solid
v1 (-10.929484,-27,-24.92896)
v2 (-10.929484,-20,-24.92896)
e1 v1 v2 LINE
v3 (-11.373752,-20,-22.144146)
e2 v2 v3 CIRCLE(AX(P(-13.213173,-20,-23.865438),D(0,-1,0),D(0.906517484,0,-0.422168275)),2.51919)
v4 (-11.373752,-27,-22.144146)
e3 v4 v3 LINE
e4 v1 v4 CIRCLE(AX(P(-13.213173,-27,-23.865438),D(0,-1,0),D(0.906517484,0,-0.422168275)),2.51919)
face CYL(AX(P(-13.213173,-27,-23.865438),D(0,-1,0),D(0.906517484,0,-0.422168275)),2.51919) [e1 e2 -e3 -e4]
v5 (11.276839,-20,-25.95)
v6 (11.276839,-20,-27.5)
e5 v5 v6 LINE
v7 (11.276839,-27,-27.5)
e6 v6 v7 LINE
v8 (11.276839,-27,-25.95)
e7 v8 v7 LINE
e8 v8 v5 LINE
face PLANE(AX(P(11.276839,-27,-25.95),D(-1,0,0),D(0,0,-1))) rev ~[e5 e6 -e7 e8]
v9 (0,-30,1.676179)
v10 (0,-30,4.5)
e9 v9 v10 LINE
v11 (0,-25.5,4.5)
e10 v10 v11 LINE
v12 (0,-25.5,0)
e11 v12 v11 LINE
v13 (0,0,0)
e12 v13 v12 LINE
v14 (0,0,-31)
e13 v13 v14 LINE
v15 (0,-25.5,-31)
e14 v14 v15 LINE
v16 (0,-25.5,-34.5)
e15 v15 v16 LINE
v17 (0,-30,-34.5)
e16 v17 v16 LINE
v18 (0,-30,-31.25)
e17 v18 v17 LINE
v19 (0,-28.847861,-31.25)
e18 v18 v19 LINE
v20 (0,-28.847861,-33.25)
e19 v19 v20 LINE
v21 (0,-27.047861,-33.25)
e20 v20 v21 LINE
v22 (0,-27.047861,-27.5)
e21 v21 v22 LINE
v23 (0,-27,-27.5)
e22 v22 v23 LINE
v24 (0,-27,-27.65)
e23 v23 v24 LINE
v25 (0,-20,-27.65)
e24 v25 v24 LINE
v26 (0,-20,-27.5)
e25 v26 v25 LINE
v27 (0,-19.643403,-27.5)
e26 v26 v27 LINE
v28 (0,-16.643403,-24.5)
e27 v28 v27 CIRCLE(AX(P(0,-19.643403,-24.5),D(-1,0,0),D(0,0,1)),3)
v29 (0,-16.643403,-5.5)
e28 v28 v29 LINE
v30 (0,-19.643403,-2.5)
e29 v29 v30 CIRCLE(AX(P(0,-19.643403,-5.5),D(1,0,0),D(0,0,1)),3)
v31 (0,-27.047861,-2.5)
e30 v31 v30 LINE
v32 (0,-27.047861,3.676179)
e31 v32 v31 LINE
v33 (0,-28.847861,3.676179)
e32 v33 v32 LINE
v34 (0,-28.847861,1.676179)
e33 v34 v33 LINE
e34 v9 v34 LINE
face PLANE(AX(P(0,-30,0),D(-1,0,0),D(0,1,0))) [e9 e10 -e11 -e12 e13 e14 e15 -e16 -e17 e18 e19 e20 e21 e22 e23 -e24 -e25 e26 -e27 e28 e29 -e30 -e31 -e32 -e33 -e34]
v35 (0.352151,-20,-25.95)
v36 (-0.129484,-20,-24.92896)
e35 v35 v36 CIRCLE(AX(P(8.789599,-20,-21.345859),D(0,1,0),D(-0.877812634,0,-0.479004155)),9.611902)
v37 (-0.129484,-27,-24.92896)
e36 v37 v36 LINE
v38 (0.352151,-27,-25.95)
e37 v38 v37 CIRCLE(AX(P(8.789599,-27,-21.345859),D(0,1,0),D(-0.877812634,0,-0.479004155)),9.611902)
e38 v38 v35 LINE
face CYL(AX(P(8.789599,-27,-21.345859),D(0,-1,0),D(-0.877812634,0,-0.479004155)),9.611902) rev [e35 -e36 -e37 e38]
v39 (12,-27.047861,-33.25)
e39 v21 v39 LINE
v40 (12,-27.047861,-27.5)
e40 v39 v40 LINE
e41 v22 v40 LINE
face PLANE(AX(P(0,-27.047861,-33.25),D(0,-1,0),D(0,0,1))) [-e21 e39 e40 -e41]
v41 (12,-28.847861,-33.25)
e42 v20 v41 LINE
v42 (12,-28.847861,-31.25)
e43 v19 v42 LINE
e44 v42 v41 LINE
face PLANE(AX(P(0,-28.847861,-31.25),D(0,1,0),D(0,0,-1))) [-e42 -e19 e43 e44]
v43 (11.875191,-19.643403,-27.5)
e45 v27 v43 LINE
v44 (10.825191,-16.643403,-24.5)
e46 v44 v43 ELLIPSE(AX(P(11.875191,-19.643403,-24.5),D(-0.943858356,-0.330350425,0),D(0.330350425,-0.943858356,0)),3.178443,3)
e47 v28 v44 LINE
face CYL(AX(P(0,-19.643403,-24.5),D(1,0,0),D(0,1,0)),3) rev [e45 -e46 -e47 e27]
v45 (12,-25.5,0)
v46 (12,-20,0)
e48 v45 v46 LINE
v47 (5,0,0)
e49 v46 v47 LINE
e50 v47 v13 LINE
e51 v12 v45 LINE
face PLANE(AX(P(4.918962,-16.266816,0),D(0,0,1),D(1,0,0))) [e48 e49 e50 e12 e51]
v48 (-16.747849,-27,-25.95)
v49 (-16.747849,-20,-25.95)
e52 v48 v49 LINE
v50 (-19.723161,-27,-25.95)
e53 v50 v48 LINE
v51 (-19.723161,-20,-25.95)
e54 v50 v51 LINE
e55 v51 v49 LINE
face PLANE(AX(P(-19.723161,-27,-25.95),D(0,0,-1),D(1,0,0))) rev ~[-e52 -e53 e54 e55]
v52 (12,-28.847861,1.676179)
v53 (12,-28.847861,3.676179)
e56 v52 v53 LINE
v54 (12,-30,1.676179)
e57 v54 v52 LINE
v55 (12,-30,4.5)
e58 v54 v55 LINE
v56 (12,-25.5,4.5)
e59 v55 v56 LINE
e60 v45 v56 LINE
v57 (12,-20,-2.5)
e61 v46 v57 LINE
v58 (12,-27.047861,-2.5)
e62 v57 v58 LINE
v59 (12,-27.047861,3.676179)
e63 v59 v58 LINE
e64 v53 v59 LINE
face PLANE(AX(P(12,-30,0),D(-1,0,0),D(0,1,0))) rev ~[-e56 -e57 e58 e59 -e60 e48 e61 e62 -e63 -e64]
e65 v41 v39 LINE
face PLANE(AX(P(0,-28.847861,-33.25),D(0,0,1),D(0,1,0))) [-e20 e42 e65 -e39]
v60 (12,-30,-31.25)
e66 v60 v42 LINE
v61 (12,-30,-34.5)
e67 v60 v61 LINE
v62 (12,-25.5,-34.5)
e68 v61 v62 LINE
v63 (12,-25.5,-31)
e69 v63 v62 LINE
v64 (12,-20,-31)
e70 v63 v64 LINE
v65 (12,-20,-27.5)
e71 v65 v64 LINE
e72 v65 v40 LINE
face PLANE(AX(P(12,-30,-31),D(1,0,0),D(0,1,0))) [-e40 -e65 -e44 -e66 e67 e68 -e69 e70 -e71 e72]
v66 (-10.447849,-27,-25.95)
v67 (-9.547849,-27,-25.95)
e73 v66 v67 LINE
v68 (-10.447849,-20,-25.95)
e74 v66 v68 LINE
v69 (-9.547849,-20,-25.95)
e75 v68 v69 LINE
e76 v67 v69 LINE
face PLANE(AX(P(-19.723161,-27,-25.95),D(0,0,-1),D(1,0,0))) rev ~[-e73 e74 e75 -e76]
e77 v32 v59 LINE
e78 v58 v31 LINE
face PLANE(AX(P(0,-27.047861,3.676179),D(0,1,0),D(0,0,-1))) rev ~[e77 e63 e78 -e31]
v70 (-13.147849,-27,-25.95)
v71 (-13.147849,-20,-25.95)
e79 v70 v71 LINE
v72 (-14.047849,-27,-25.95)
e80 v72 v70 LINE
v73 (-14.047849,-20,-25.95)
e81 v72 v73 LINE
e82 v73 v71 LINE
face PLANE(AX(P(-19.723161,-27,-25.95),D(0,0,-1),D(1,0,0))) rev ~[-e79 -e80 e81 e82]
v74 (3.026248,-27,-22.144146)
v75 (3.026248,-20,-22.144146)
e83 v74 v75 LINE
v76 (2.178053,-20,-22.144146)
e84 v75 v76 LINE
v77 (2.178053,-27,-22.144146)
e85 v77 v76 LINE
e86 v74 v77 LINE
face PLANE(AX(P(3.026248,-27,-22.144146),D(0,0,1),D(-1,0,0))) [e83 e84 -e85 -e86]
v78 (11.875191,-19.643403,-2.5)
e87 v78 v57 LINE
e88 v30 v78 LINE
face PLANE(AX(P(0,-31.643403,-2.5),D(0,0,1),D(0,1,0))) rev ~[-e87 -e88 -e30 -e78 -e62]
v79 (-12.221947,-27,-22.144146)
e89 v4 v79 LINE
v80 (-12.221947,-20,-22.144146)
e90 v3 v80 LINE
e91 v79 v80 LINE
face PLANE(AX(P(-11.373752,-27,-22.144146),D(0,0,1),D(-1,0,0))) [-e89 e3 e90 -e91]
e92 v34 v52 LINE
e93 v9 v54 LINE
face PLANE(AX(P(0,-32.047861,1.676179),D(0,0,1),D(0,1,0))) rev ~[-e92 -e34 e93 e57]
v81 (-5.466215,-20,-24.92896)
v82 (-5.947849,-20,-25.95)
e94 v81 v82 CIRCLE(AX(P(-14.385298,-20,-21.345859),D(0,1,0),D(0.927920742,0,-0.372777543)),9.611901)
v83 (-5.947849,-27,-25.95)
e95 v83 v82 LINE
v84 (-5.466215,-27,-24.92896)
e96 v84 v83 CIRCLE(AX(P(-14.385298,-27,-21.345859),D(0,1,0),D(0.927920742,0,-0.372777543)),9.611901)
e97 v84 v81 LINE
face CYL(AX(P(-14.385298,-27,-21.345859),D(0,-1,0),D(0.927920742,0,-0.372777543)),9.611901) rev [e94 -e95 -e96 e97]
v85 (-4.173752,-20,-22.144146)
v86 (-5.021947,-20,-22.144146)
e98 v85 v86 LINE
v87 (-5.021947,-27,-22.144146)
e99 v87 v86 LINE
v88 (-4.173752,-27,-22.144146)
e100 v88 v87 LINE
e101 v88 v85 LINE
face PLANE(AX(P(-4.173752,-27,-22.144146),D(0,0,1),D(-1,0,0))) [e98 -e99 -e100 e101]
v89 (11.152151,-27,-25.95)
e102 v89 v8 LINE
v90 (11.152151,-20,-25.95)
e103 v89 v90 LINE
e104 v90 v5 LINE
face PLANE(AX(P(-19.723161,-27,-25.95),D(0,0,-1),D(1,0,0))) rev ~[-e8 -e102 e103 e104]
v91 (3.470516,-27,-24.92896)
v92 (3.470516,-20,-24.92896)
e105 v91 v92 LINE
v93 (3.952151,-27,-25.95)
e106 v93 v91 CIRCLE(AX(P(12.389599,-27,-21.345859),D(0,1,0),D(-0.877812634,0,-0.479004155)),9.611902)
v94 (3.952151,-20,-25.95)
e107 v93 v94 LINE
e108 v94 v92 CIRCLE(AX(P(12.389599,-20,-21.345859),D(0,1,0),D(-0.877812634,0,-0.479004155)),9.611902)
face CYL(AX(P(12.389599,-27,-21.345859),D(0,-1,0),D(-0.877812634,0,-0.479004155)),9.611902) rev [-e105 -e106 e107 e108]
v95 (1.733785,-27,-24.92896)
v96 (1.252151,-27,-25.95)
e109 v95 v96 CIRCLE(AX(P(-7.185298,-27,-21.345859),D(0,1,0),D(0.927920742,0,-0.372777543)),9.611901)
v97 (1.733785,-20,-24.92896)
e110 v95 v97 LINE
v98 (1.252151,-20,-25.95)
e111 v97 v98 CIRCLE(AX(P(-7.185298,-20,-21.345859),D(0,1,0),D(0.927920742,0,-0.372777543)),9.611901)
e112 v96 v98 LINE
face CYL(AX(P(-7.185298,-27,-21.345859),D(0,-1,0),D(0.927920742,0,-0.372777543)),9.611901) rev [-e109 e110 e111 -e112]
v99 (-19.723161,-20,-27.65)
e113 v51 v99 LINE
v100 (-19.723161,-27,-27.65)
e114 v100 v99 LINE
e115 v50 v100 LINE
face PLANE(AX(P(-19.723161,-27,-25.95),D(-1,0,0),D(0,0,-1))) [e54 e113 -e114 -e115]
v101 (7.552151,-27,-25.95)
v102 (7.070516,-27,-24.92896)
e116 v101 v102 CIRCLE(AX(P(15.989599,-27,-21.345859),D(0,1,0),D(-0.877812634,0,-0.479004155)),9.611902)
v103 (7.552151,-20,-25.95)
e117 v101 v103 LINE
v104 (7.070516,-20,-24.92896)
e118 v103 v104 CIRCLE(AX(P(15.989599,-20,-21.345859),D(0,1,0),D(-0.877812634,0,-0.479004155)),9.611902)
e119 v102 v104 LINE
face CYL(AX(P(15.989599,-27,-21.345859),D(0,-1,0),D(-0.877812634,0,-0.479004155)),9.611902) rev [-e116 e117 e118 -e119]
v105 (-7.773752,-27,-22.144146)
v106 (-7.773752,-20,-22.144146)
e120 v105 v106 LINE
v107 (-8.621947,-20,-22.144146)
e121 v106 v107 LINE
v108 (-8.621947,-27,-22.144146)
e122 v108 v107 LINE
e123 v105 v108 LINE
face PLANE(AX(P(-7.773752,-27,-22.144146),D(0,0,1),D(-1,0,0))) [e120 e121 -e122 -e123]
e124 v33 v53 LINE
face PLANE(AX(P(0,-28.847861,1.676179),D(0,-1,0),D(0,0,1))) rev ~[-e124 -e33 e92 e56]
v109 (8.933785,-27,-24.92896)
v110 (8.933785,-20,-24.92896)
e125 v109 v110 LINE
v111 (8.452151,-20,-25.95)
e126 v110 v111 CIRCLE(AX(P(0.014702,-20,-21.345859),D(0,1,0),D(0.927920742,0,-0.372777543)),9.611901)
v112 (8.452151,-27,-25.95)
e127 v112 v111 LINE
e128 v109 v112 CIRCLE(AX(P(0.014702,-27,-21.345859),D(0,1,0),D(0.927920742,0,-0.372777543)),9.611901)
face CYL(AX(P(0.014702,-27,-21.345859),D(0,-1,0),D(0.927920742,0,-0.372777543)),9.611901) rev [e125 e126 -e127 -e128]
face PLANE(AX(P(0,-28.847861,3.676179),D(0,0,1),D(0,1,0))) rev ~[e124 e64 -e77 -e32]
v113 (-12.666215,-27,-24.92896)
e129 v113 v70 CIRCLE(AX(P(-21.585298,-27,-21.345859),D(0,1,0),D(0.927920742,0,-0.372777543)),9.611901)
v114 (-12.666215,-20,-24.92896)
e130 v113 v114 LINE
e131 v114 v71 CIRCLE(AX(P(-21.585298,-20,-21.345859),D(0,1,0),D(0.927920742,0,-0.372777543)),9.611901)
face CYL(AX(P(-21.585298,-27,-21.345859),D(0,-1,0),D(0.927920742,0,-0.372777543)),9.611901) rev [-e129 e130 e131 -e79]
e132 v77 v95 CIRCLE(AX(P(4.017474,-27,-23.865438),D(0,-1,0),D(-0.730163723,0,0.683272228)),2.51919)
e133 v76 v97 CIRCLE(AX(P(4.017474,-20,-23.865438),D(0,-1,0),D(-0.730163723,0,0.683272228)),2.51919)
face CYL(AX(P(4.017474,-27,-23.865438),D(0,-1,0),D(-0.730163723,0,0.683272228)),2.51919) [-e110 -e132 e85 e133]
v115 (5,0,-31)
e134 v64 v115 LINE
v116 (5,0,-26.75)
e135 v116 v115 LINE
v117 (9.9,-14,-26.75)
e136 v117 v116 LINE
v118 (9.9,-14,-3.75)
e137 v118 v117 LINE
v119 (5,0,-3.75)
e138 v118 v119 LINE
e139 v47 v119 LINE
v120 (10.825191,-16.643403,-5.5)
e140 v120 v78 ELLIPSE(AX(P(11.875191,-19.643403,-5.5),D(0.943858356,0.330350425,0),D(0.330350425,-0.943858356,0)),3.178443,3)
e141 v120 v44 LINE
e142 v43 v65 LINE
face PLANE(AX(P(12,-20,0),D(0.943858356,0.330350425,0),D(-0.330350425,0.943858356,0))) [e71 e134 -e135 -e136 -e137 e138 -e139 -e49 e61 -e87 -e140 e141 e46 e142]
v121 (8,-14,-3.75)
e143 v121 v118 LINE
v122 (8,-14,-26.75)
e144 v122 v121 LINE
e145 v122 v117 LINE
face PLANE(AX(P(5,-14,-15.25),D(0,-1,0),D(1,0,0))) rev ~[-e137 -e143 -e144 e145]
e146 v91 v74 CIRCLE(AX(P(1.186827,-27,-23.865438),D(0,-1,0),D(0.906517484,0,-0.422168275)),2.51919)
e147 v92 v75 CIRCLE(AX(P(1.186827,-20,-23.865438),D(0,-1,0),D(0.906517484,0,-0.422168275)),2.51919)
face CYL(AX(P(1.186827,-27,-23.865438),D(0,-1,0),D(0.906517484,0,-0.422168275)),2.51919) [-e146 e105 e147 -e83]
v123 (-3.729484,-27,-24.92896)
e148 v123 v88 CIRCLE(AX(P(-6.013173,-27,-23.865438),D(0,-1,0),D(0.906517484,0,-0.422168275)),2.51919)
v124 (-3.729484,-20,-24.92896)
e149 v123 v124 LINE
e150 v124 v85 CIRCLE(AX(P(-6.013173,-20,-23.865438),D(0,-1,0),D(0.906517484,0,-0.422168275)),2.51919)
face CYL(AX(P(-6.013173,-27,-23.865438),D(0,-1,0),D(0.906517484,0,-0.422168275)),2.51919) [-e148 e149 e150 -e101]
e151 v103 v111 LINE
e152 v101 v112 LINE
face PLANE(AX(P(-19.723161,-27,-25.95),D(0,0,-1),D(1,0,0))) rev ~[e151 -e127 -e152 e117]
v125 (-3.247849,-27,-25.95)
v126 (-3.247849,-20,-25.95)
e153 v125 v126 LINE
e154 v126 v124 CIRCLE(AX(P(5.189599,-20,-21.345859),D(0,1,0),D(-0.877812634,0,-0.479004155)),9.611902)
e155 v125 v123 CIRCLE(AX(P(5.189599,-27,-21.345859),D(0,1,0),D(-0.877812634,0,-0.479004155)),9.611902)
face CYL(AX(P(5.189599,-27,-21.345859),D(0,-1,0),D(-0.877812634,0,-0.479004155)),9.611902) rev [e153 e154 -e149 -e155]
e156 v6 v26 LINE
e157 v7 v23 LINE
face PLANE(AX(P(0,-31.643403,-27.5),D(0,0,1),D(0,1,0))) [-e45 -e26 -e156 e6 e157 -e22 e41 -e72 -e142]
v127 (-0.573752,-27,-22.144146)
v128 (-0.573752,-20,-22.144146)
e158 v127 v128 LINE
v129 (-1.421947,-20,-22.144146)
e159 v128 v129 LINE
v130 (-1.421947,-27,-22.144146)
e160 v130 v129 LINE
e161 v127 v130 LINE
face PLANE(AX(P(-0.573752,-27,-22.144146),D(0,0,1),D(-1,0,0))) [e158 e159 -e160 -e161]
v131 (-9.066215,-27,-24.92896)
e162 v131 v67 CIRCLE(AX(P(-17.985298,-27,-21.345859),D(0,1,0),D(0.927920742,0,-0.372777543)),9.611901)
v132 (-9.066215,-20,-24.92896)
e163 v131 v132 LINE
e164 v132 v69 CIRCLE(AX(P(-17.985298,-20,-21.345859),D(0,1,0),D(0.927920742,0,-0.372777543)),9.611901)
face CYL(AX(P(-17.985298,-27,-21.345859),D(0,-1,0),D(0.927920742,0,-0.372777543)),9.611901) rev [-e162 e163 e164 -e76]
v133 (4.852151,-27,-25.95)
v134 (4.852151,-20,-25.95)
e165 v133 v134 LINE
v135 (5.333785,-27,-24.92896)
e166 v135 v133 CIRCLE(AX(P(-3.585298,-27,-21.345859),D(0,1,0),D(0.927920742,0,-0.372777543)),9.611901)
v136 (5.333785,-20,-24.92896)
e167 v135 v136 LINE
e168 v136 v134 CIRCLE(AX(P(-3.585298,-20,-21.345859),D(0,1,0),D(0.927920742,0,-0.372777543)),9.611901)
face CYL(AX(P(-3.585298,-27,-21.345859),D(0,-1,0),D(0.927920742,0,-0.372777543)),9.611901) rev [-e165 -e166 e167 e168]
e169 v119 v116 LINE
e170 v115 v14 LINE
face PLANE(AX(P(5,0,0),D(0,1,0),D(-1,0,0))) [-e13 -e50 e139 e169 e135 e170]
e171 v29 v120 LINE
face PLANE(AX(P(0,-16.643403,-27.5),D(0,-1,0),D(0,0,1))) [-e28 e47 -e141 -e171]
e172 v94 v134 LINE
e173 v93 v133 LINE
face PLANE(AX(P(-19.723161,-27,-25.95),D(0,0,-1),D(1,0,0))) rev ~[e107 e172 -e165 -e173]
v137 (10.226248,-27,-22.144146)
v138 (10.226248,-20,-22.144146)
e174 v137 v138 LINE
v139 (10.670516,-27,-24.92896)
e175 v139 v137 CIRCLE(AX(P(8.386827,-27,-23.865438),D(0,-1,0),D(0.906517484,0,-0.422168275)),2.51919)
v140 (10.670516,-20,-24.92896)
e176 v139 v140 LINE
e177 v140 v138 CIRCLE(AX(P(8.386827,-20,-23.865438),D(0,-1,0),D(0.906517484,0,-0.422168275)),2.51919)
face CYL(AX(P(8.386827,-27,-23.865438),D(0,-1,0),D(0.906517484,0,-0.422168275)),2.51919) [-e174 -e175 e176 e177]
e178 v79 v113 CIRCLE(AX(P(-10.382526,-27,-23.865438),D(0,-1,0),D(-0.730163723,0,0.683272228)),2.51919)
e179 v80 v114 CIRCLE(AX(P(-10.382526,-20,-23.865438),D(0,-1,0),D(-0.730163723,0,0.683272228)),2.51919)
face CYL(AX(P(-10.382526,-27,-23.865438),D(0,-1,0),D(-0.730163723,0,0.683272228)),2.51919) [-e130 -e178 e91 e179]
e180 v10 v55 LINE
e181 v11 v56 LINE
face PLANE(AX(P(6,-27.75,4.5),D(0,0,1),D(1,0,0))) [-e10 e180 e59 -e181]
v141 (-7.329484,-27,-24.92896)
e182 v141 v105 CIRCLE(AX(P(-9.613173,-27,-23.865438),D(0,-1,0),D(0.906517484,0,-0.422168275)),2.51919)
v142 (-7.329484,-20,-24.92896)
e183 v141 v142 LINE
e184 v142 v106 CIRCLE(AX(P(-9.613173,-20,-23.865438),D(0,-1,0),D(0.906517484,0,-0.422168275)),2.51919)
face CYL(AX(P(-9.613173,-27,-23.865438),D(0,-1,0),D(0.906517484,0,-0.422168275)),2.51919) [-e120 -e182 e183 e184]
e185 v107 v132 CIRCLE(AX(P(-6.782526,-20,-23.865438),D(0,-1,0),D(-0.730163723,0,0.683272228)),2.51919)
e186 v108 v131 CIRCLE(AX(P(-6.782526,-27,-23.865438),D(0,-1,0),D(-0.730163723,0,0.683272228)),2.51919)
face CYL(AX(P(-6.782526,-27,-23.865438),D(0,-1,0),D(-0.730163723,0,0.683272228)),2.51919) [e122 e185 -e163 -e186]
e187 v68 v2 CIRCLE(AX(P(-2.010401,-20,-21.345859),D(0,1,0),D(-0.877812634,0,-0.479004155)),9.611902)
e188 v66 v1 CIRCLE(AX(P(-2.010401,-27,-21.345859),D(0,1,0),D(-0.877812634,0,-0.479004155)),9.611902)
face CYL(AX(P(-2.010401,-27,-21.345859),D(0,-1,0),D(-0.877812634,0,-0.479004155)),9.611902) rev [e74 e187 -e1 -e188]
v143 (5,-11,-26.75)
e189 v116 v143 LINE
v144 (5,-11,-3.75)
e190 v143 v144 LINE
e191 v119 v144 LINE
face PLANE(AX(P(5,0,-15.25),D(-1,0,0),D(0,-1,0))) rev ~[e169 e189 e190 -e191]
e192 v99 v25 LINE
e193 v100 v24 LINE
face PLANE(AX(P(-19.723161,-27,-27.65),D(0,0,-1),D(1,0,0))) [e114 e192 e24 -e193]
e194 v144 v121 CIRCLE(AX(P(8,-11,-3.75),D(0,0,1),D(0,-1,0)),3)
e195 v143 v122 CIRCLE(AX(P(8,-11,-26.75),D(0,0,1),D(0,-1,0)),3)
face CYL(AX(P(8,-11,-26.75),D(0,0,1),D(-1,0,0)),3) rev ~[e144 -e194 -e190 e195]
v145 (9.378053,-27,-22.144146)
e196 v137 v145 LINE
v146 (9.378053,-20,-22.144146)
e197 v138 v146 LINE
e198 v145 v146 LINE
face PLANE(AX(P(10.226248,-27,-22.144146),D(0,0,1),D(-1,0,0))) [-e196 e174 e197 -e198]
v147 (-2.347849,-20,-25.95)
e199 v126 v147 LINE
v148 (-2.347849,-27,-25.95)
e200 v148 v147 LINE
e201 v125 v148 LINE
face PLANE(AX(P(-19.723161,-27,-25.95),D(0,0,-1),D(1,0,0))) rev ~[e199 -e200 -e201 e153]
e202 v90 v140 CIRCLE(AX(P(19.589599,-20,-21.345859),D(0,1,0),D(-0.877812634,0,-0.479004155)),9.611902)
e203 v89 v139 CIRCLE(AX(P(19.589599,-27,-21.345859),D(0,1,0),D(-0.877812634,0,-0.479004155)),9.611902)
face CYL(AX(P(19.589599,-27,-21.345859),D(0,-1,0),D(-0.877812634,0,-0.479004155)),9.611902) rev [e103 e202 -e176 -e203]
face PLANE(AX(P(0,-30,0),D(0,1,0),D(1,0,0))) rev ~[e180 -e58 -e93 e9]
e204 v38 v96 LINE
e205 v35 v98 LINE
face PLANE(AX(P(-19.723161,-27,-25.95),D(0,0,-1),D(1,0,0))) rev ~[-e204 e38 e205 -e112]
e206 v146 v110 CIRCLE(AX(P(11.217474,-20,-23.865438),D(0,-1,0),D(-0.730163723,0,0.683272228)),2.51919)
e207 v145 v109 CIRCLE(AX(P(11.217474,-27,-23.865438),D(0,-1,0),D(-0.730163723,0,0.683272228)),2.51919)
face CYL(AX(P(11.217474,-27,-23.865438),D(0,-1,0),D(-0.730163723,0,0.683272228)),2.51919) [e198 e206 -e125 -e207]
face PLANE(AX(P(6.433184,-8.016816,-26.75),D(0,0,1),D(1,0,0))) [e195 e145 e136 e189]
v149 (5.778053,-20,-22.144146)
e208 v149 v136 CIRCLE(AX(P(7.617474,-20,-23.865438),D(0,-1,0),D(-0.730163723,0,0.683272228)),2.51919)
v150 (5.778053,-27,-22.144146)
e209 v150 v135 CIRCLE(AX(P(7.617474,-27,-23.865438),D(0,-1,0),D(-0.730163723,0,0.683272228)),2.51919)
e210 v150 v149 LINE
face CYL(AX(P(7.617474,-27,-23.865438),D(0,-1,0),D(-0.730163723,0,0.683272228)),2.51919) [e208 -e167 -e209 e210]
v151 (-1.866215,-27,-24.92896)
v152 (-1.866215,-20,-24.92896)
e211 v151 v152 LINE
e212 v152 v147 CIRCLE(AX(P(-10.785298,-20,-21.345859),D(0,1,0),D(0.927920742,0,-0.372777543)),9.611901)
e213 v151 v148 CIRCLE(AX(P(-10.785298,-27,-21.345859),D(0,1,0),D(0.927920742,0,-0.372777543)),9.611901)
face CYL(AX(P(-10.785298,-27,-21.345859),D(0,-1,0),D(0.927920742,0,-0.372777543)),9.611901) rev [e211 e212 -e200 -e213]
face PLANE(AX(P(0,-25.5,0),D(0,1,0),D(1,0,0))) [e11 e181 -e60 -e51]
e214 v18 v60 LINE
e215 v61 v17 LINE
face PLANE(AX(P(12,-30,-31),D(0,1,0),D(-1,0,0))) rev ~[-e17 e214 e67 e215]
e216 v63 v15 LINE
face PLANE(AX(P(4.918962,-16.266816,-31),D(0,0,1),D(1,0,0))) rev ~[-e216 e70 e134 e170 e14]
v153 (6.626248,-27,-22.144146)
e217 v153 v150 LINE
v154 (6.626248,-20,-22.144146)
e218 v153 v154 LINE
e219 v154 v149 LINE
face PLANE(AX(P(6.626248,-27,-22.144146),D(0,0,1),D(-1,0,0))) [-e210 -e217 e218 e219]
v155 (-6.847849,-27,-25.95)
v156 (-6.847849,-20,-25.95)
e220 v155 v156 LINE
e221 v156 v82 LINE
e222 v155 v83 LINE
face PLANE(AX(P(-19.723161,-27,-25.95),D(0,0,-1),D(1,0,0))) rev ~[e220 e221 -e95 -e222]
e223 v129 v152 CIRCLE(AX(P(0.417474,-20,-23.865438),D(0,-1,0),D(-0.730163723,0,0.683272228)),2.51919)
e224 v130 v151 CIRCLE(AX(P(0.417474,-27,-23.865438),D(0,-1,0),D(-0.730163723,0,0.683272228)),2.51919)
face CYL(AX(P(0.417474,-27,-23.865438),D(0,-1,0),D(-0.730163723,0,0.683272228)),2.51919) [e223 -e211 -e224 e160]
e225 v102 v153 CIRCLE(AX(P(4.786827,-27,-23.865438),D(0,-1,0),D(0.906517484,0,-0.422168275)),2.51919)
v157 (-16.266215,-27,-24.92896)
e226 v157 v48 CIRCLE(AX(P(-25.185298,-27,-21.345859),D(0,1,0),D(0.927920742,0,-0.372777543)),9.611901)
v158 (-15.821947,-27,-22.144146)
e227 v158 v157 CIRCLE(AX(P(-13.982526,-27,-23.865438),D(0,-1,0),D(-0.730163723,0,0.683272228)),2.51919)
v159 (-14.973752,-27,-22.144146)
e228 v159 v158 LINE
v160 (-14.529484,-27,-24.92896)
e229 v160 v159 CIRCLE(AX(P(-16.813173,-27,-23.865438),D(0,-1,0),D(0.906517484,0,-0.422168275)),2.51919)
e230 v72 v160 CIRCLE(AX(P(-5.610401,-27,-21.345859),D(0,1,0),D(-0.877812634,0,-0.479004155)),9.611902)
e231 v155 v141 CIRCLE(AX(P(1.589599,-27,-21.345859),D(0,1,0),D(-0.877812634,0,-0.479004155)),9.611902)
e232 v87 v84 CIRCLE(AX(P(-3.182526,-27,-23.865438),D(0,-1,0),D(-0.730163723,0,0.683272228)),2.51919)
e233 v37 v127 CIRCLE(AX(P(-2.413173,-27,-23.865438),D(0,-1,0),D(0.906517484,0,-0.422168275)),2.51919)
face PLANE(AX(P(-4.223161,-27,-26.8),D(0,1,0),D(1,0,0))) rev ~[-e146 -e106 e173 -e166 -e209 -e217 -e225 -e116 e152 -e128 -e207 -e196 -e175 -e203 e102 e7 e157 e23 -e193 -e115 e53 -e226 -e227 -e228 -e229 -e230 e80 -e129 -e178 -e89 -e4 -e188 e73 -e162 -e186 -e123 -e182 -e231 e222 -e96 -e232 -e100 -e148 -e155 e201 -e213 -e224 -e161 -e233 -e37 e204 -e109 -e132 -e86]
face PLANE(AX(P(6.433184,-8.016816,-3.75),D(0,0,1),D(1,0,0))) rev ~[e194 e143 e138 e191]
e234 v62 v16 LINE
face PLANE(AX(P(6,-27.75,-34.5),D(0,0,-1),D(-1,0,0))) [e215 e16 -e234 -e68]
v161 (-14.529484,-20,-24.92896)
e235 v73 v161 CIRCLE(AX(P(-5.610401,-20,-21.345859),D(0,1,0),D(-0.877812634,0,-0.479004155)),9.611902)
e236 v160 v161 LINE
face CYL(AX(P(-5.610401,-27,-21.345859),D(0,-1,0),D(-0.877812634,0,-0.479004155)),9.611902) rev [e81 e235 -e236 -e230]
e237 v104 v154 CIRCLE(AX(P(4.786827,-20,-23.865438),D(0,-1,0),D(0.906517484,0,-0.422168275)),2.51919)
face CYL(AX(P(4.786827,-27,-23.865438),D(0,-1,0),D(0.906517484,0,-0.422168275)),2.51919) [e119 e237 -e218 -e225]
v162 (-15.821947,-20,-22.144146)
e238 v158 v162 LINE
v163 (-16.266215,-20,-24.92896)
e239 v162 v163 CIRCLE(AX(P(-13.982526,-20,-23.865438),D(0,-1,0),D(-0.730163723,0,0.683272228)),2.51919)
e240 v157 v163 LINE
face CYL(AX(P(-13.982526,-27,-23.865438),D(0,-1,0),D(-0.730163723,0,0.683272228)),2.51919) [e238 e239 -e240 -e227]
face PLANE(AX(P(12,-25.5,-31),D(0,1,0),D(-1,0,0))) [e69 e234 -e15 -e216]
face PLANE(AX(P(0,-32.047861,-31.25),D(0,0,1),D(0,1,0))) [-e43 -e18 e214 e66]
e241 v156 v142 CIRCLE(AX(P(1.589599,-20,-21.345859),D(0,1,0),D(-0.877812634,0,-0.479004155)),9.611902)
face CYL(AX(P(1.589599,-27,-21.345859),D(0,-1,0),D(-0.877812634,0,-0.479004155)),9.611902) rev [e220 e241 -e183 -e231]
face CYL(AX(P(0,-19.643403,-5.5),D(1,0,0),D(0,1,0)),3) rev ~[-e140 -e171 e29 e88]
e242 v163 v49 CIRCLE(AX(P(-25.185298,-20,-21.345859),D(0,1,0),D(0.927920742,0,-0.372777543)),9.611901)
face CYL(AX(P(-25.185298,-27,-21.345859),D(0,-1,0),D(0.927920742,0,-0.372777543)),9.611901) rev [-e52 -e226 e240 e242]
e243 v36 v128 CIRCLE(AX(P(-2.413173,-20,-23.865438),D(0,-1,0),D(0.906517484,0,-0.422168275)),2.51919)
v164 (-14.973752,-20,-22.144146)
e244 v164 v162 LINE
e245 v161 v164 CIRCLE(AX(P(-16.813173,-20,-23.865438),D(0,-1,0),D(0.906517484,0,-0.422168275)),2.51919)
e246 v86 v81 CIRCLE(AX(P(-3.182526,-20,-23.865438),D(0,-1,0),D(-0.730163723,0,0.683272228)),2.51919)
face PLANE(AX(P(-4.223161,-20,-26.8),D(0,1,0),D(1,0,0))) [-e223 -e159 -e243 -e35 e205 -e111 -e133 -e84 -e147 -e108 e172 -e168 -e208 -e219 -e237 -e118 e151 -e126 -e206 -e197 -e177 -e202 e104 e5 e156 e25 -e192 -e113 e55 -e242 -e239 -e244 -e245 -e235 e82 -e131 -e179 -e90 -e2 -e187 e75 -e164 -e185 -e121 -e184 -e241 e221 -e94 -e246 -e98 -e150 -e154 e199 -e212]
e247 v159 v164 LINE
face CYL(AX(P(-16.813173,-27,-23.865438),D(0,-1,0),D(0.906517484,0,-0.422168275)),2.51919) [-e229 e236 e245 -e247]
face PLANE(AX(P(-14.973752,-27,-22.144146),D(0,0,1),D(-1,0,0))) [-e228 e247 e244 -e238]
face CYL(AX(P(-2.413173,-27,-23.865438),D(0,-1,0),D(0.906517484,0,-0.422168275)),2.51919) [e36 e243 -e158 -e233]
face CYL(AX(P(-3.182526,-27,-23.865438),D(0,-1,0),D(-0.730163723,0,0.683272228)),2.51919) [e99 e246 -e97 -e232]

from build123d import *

# Parameters (mm, degrees)
BOSS_EXTRUDE1_DEPTH = 31
SKETCH4_W           = 25
SKETCH4_H           = 15
CUT_EXTRUDE2_DEPTH  = 25
CUT_EXTRUDE4_DEPTH  = 11.5
SKETCH7_W           = 31
SKETCH7_H           = 1.7
BOSS_EXTRUDE3_DEPTH = 7
BOSS_EXTRUDE4_DEPTH = 7
LPATTERN1_COUNT     = 8
LPATTERN1_PITCH     = 3.6
SKETCH11_W          = 12
SKETCH11_H          = 4.5
BOSS_EXTRUDE5_DEPTH = 3.5
FILLET5_R           = 3
SKETCH12_W          = 12
SKETCH12_H          = 4.5
BOSS_EXTRUDE6_DEPTH = 4.5
CUT_EXTRUDE5_DEPTH  = 12


with BuildPart() as part:
    # Sketch1 → Boss-Extrude1 (new body)
    with BuildSketch(Plane.XY):
        Polygon((0, 0), (0, -30), (12, -30), (12, -20), (5, 0), align=None)
    extrude(amount=-BOSS_EXTRUDE1_DEPTH)

    # Sketch4 → Cut-Extrude2 (cut)
    with BuildSketch(Plane.ZY):
        with Locations((-15, -24.143402944)):
            Rectangle(SKETCH4_W, SKETCH4_H)
    extrude(amount=-CUT_EXTRUDE2_DEPTH, mode=Mode.SUBTRACT)

    # Sketch6 → Cut-Extrude4 (cut, symmetric)
    with BuildSketch(Plane.XY.offset(-15.25)):
        Polygon((5, 0), (5, -14), (9.9, -14), align=None)
    extrude(amount=CUT_EXTRUDE4_DEPTH, both=True, mode=Mode.SUBTRACT)

    # Sketch7 → Boss-Extrude3 (add)
    with BuildSketch(Plane(origin=(0, -27, 0), x_dir=(1, 0, 0), z_dir=(0, 1, 0))):
        with Locations((-4.2231607, 26.8)):
            Rectangle(SKETCH7_W, SKETCH7_H)
    extrude(amount=BOSS_EXTRUDE3_DEPTH)

    # Sketch10 → Boss-Extrude4 (add)
    with BuildSketch(Plane(origin=(0, -27, 0), x_dir=(1, 0, 0), z_dir=(0, 1, 0))):
        with BuildLine():
            Line((10.226247744, 22.144145979), (9.378053282, 22.144145979))
            ThreePointArc((9.378053282, 22.144145979), (8.729742796, 23.468564149), (8.93378471, 24.928960283))
            ThreePointArc((8.93378471, 24.928960283), (8.707970922, 25.446557347), (8.452150513, 25.95))
            Line((8.452150513, 25.95), (11.152150513, 25.95))
            ThreePointArc((11.152150513, 25.95), (10.896330104, 25.446557347), (10.670516315, 24.928960283))
            ThreePointArc((10.670516315, 24.928960283), (10.874558229, 23.468564149), (10.226247744, 22.144145979))
        make_face()
    boss_extrude4 = extrude(amount=BOSS_EXTRUDE4_DEPTH)

    # LPattern1: Boss-Extrude4 ×8
    with Locations(*[(-i * LPATTERN1_PITCH, 0, 0) for i in range(1, LPATTERN1_COUNT)]):
        add(boss_extrude4)

    # Sketch11 → Boss-Extrude5 (add)
    with BuildSketch(Plane(origin=(0, 0, -31), x_dir=(-1, 0, 0), z_dir=(0, 0, -1))):
        with Locations((-6, -27.75)):
            Rectangle(SKETCH11_W, SKETCH11_H)
    extrude(amount=BOSS_EXTRUDE5_DEPTH)

    # Fillet5
    fillet5_edges = [part.edges().sort_by_distance(p)[0] for p in [
        (5.412595515, -16.643402944, -27.5),
        (5.412595515, -16.643402944, -2.5),
        (5, -14, -15.25),
    ]]
    fillet(fillet5_edges, radius=FILLET5_R)

    # Sketch12 → Boss-Extrude6 (add)
    with BuildSketch(Plane.XY):
        with Locations((6, -27.75)):
            Rectangle(SKETCH12_W, SKETCH12_H)
    extrude(amount=BOSS_EXTRUDE6_DEPTH)

    # Sketch13 → Cut-Extrude5 (cut)
    with BuildSketch(Plane.ZY):
        Polygon((-33.25, -27.047861031), (-26.75, -27.047861031), (-26.75, -32.047861031), (-31.25, -32.047861031), (-31.25, -28.847861031), (-33.25, -28.847861031), align=None)
        Polygon((1.676178687, -28.847861031), (3.676178687, -28.847861031), (3.676178687, -27.047861031), (-2.823821313, -27.047861031), (-2.823821313, -32.047861031), (1.676178687, -32.047861031), align=None)
    extrude(amount=-CUT_EXTRUDE5_DEPTH, mode=Mode.SUBTRACT)


solid = part.part
